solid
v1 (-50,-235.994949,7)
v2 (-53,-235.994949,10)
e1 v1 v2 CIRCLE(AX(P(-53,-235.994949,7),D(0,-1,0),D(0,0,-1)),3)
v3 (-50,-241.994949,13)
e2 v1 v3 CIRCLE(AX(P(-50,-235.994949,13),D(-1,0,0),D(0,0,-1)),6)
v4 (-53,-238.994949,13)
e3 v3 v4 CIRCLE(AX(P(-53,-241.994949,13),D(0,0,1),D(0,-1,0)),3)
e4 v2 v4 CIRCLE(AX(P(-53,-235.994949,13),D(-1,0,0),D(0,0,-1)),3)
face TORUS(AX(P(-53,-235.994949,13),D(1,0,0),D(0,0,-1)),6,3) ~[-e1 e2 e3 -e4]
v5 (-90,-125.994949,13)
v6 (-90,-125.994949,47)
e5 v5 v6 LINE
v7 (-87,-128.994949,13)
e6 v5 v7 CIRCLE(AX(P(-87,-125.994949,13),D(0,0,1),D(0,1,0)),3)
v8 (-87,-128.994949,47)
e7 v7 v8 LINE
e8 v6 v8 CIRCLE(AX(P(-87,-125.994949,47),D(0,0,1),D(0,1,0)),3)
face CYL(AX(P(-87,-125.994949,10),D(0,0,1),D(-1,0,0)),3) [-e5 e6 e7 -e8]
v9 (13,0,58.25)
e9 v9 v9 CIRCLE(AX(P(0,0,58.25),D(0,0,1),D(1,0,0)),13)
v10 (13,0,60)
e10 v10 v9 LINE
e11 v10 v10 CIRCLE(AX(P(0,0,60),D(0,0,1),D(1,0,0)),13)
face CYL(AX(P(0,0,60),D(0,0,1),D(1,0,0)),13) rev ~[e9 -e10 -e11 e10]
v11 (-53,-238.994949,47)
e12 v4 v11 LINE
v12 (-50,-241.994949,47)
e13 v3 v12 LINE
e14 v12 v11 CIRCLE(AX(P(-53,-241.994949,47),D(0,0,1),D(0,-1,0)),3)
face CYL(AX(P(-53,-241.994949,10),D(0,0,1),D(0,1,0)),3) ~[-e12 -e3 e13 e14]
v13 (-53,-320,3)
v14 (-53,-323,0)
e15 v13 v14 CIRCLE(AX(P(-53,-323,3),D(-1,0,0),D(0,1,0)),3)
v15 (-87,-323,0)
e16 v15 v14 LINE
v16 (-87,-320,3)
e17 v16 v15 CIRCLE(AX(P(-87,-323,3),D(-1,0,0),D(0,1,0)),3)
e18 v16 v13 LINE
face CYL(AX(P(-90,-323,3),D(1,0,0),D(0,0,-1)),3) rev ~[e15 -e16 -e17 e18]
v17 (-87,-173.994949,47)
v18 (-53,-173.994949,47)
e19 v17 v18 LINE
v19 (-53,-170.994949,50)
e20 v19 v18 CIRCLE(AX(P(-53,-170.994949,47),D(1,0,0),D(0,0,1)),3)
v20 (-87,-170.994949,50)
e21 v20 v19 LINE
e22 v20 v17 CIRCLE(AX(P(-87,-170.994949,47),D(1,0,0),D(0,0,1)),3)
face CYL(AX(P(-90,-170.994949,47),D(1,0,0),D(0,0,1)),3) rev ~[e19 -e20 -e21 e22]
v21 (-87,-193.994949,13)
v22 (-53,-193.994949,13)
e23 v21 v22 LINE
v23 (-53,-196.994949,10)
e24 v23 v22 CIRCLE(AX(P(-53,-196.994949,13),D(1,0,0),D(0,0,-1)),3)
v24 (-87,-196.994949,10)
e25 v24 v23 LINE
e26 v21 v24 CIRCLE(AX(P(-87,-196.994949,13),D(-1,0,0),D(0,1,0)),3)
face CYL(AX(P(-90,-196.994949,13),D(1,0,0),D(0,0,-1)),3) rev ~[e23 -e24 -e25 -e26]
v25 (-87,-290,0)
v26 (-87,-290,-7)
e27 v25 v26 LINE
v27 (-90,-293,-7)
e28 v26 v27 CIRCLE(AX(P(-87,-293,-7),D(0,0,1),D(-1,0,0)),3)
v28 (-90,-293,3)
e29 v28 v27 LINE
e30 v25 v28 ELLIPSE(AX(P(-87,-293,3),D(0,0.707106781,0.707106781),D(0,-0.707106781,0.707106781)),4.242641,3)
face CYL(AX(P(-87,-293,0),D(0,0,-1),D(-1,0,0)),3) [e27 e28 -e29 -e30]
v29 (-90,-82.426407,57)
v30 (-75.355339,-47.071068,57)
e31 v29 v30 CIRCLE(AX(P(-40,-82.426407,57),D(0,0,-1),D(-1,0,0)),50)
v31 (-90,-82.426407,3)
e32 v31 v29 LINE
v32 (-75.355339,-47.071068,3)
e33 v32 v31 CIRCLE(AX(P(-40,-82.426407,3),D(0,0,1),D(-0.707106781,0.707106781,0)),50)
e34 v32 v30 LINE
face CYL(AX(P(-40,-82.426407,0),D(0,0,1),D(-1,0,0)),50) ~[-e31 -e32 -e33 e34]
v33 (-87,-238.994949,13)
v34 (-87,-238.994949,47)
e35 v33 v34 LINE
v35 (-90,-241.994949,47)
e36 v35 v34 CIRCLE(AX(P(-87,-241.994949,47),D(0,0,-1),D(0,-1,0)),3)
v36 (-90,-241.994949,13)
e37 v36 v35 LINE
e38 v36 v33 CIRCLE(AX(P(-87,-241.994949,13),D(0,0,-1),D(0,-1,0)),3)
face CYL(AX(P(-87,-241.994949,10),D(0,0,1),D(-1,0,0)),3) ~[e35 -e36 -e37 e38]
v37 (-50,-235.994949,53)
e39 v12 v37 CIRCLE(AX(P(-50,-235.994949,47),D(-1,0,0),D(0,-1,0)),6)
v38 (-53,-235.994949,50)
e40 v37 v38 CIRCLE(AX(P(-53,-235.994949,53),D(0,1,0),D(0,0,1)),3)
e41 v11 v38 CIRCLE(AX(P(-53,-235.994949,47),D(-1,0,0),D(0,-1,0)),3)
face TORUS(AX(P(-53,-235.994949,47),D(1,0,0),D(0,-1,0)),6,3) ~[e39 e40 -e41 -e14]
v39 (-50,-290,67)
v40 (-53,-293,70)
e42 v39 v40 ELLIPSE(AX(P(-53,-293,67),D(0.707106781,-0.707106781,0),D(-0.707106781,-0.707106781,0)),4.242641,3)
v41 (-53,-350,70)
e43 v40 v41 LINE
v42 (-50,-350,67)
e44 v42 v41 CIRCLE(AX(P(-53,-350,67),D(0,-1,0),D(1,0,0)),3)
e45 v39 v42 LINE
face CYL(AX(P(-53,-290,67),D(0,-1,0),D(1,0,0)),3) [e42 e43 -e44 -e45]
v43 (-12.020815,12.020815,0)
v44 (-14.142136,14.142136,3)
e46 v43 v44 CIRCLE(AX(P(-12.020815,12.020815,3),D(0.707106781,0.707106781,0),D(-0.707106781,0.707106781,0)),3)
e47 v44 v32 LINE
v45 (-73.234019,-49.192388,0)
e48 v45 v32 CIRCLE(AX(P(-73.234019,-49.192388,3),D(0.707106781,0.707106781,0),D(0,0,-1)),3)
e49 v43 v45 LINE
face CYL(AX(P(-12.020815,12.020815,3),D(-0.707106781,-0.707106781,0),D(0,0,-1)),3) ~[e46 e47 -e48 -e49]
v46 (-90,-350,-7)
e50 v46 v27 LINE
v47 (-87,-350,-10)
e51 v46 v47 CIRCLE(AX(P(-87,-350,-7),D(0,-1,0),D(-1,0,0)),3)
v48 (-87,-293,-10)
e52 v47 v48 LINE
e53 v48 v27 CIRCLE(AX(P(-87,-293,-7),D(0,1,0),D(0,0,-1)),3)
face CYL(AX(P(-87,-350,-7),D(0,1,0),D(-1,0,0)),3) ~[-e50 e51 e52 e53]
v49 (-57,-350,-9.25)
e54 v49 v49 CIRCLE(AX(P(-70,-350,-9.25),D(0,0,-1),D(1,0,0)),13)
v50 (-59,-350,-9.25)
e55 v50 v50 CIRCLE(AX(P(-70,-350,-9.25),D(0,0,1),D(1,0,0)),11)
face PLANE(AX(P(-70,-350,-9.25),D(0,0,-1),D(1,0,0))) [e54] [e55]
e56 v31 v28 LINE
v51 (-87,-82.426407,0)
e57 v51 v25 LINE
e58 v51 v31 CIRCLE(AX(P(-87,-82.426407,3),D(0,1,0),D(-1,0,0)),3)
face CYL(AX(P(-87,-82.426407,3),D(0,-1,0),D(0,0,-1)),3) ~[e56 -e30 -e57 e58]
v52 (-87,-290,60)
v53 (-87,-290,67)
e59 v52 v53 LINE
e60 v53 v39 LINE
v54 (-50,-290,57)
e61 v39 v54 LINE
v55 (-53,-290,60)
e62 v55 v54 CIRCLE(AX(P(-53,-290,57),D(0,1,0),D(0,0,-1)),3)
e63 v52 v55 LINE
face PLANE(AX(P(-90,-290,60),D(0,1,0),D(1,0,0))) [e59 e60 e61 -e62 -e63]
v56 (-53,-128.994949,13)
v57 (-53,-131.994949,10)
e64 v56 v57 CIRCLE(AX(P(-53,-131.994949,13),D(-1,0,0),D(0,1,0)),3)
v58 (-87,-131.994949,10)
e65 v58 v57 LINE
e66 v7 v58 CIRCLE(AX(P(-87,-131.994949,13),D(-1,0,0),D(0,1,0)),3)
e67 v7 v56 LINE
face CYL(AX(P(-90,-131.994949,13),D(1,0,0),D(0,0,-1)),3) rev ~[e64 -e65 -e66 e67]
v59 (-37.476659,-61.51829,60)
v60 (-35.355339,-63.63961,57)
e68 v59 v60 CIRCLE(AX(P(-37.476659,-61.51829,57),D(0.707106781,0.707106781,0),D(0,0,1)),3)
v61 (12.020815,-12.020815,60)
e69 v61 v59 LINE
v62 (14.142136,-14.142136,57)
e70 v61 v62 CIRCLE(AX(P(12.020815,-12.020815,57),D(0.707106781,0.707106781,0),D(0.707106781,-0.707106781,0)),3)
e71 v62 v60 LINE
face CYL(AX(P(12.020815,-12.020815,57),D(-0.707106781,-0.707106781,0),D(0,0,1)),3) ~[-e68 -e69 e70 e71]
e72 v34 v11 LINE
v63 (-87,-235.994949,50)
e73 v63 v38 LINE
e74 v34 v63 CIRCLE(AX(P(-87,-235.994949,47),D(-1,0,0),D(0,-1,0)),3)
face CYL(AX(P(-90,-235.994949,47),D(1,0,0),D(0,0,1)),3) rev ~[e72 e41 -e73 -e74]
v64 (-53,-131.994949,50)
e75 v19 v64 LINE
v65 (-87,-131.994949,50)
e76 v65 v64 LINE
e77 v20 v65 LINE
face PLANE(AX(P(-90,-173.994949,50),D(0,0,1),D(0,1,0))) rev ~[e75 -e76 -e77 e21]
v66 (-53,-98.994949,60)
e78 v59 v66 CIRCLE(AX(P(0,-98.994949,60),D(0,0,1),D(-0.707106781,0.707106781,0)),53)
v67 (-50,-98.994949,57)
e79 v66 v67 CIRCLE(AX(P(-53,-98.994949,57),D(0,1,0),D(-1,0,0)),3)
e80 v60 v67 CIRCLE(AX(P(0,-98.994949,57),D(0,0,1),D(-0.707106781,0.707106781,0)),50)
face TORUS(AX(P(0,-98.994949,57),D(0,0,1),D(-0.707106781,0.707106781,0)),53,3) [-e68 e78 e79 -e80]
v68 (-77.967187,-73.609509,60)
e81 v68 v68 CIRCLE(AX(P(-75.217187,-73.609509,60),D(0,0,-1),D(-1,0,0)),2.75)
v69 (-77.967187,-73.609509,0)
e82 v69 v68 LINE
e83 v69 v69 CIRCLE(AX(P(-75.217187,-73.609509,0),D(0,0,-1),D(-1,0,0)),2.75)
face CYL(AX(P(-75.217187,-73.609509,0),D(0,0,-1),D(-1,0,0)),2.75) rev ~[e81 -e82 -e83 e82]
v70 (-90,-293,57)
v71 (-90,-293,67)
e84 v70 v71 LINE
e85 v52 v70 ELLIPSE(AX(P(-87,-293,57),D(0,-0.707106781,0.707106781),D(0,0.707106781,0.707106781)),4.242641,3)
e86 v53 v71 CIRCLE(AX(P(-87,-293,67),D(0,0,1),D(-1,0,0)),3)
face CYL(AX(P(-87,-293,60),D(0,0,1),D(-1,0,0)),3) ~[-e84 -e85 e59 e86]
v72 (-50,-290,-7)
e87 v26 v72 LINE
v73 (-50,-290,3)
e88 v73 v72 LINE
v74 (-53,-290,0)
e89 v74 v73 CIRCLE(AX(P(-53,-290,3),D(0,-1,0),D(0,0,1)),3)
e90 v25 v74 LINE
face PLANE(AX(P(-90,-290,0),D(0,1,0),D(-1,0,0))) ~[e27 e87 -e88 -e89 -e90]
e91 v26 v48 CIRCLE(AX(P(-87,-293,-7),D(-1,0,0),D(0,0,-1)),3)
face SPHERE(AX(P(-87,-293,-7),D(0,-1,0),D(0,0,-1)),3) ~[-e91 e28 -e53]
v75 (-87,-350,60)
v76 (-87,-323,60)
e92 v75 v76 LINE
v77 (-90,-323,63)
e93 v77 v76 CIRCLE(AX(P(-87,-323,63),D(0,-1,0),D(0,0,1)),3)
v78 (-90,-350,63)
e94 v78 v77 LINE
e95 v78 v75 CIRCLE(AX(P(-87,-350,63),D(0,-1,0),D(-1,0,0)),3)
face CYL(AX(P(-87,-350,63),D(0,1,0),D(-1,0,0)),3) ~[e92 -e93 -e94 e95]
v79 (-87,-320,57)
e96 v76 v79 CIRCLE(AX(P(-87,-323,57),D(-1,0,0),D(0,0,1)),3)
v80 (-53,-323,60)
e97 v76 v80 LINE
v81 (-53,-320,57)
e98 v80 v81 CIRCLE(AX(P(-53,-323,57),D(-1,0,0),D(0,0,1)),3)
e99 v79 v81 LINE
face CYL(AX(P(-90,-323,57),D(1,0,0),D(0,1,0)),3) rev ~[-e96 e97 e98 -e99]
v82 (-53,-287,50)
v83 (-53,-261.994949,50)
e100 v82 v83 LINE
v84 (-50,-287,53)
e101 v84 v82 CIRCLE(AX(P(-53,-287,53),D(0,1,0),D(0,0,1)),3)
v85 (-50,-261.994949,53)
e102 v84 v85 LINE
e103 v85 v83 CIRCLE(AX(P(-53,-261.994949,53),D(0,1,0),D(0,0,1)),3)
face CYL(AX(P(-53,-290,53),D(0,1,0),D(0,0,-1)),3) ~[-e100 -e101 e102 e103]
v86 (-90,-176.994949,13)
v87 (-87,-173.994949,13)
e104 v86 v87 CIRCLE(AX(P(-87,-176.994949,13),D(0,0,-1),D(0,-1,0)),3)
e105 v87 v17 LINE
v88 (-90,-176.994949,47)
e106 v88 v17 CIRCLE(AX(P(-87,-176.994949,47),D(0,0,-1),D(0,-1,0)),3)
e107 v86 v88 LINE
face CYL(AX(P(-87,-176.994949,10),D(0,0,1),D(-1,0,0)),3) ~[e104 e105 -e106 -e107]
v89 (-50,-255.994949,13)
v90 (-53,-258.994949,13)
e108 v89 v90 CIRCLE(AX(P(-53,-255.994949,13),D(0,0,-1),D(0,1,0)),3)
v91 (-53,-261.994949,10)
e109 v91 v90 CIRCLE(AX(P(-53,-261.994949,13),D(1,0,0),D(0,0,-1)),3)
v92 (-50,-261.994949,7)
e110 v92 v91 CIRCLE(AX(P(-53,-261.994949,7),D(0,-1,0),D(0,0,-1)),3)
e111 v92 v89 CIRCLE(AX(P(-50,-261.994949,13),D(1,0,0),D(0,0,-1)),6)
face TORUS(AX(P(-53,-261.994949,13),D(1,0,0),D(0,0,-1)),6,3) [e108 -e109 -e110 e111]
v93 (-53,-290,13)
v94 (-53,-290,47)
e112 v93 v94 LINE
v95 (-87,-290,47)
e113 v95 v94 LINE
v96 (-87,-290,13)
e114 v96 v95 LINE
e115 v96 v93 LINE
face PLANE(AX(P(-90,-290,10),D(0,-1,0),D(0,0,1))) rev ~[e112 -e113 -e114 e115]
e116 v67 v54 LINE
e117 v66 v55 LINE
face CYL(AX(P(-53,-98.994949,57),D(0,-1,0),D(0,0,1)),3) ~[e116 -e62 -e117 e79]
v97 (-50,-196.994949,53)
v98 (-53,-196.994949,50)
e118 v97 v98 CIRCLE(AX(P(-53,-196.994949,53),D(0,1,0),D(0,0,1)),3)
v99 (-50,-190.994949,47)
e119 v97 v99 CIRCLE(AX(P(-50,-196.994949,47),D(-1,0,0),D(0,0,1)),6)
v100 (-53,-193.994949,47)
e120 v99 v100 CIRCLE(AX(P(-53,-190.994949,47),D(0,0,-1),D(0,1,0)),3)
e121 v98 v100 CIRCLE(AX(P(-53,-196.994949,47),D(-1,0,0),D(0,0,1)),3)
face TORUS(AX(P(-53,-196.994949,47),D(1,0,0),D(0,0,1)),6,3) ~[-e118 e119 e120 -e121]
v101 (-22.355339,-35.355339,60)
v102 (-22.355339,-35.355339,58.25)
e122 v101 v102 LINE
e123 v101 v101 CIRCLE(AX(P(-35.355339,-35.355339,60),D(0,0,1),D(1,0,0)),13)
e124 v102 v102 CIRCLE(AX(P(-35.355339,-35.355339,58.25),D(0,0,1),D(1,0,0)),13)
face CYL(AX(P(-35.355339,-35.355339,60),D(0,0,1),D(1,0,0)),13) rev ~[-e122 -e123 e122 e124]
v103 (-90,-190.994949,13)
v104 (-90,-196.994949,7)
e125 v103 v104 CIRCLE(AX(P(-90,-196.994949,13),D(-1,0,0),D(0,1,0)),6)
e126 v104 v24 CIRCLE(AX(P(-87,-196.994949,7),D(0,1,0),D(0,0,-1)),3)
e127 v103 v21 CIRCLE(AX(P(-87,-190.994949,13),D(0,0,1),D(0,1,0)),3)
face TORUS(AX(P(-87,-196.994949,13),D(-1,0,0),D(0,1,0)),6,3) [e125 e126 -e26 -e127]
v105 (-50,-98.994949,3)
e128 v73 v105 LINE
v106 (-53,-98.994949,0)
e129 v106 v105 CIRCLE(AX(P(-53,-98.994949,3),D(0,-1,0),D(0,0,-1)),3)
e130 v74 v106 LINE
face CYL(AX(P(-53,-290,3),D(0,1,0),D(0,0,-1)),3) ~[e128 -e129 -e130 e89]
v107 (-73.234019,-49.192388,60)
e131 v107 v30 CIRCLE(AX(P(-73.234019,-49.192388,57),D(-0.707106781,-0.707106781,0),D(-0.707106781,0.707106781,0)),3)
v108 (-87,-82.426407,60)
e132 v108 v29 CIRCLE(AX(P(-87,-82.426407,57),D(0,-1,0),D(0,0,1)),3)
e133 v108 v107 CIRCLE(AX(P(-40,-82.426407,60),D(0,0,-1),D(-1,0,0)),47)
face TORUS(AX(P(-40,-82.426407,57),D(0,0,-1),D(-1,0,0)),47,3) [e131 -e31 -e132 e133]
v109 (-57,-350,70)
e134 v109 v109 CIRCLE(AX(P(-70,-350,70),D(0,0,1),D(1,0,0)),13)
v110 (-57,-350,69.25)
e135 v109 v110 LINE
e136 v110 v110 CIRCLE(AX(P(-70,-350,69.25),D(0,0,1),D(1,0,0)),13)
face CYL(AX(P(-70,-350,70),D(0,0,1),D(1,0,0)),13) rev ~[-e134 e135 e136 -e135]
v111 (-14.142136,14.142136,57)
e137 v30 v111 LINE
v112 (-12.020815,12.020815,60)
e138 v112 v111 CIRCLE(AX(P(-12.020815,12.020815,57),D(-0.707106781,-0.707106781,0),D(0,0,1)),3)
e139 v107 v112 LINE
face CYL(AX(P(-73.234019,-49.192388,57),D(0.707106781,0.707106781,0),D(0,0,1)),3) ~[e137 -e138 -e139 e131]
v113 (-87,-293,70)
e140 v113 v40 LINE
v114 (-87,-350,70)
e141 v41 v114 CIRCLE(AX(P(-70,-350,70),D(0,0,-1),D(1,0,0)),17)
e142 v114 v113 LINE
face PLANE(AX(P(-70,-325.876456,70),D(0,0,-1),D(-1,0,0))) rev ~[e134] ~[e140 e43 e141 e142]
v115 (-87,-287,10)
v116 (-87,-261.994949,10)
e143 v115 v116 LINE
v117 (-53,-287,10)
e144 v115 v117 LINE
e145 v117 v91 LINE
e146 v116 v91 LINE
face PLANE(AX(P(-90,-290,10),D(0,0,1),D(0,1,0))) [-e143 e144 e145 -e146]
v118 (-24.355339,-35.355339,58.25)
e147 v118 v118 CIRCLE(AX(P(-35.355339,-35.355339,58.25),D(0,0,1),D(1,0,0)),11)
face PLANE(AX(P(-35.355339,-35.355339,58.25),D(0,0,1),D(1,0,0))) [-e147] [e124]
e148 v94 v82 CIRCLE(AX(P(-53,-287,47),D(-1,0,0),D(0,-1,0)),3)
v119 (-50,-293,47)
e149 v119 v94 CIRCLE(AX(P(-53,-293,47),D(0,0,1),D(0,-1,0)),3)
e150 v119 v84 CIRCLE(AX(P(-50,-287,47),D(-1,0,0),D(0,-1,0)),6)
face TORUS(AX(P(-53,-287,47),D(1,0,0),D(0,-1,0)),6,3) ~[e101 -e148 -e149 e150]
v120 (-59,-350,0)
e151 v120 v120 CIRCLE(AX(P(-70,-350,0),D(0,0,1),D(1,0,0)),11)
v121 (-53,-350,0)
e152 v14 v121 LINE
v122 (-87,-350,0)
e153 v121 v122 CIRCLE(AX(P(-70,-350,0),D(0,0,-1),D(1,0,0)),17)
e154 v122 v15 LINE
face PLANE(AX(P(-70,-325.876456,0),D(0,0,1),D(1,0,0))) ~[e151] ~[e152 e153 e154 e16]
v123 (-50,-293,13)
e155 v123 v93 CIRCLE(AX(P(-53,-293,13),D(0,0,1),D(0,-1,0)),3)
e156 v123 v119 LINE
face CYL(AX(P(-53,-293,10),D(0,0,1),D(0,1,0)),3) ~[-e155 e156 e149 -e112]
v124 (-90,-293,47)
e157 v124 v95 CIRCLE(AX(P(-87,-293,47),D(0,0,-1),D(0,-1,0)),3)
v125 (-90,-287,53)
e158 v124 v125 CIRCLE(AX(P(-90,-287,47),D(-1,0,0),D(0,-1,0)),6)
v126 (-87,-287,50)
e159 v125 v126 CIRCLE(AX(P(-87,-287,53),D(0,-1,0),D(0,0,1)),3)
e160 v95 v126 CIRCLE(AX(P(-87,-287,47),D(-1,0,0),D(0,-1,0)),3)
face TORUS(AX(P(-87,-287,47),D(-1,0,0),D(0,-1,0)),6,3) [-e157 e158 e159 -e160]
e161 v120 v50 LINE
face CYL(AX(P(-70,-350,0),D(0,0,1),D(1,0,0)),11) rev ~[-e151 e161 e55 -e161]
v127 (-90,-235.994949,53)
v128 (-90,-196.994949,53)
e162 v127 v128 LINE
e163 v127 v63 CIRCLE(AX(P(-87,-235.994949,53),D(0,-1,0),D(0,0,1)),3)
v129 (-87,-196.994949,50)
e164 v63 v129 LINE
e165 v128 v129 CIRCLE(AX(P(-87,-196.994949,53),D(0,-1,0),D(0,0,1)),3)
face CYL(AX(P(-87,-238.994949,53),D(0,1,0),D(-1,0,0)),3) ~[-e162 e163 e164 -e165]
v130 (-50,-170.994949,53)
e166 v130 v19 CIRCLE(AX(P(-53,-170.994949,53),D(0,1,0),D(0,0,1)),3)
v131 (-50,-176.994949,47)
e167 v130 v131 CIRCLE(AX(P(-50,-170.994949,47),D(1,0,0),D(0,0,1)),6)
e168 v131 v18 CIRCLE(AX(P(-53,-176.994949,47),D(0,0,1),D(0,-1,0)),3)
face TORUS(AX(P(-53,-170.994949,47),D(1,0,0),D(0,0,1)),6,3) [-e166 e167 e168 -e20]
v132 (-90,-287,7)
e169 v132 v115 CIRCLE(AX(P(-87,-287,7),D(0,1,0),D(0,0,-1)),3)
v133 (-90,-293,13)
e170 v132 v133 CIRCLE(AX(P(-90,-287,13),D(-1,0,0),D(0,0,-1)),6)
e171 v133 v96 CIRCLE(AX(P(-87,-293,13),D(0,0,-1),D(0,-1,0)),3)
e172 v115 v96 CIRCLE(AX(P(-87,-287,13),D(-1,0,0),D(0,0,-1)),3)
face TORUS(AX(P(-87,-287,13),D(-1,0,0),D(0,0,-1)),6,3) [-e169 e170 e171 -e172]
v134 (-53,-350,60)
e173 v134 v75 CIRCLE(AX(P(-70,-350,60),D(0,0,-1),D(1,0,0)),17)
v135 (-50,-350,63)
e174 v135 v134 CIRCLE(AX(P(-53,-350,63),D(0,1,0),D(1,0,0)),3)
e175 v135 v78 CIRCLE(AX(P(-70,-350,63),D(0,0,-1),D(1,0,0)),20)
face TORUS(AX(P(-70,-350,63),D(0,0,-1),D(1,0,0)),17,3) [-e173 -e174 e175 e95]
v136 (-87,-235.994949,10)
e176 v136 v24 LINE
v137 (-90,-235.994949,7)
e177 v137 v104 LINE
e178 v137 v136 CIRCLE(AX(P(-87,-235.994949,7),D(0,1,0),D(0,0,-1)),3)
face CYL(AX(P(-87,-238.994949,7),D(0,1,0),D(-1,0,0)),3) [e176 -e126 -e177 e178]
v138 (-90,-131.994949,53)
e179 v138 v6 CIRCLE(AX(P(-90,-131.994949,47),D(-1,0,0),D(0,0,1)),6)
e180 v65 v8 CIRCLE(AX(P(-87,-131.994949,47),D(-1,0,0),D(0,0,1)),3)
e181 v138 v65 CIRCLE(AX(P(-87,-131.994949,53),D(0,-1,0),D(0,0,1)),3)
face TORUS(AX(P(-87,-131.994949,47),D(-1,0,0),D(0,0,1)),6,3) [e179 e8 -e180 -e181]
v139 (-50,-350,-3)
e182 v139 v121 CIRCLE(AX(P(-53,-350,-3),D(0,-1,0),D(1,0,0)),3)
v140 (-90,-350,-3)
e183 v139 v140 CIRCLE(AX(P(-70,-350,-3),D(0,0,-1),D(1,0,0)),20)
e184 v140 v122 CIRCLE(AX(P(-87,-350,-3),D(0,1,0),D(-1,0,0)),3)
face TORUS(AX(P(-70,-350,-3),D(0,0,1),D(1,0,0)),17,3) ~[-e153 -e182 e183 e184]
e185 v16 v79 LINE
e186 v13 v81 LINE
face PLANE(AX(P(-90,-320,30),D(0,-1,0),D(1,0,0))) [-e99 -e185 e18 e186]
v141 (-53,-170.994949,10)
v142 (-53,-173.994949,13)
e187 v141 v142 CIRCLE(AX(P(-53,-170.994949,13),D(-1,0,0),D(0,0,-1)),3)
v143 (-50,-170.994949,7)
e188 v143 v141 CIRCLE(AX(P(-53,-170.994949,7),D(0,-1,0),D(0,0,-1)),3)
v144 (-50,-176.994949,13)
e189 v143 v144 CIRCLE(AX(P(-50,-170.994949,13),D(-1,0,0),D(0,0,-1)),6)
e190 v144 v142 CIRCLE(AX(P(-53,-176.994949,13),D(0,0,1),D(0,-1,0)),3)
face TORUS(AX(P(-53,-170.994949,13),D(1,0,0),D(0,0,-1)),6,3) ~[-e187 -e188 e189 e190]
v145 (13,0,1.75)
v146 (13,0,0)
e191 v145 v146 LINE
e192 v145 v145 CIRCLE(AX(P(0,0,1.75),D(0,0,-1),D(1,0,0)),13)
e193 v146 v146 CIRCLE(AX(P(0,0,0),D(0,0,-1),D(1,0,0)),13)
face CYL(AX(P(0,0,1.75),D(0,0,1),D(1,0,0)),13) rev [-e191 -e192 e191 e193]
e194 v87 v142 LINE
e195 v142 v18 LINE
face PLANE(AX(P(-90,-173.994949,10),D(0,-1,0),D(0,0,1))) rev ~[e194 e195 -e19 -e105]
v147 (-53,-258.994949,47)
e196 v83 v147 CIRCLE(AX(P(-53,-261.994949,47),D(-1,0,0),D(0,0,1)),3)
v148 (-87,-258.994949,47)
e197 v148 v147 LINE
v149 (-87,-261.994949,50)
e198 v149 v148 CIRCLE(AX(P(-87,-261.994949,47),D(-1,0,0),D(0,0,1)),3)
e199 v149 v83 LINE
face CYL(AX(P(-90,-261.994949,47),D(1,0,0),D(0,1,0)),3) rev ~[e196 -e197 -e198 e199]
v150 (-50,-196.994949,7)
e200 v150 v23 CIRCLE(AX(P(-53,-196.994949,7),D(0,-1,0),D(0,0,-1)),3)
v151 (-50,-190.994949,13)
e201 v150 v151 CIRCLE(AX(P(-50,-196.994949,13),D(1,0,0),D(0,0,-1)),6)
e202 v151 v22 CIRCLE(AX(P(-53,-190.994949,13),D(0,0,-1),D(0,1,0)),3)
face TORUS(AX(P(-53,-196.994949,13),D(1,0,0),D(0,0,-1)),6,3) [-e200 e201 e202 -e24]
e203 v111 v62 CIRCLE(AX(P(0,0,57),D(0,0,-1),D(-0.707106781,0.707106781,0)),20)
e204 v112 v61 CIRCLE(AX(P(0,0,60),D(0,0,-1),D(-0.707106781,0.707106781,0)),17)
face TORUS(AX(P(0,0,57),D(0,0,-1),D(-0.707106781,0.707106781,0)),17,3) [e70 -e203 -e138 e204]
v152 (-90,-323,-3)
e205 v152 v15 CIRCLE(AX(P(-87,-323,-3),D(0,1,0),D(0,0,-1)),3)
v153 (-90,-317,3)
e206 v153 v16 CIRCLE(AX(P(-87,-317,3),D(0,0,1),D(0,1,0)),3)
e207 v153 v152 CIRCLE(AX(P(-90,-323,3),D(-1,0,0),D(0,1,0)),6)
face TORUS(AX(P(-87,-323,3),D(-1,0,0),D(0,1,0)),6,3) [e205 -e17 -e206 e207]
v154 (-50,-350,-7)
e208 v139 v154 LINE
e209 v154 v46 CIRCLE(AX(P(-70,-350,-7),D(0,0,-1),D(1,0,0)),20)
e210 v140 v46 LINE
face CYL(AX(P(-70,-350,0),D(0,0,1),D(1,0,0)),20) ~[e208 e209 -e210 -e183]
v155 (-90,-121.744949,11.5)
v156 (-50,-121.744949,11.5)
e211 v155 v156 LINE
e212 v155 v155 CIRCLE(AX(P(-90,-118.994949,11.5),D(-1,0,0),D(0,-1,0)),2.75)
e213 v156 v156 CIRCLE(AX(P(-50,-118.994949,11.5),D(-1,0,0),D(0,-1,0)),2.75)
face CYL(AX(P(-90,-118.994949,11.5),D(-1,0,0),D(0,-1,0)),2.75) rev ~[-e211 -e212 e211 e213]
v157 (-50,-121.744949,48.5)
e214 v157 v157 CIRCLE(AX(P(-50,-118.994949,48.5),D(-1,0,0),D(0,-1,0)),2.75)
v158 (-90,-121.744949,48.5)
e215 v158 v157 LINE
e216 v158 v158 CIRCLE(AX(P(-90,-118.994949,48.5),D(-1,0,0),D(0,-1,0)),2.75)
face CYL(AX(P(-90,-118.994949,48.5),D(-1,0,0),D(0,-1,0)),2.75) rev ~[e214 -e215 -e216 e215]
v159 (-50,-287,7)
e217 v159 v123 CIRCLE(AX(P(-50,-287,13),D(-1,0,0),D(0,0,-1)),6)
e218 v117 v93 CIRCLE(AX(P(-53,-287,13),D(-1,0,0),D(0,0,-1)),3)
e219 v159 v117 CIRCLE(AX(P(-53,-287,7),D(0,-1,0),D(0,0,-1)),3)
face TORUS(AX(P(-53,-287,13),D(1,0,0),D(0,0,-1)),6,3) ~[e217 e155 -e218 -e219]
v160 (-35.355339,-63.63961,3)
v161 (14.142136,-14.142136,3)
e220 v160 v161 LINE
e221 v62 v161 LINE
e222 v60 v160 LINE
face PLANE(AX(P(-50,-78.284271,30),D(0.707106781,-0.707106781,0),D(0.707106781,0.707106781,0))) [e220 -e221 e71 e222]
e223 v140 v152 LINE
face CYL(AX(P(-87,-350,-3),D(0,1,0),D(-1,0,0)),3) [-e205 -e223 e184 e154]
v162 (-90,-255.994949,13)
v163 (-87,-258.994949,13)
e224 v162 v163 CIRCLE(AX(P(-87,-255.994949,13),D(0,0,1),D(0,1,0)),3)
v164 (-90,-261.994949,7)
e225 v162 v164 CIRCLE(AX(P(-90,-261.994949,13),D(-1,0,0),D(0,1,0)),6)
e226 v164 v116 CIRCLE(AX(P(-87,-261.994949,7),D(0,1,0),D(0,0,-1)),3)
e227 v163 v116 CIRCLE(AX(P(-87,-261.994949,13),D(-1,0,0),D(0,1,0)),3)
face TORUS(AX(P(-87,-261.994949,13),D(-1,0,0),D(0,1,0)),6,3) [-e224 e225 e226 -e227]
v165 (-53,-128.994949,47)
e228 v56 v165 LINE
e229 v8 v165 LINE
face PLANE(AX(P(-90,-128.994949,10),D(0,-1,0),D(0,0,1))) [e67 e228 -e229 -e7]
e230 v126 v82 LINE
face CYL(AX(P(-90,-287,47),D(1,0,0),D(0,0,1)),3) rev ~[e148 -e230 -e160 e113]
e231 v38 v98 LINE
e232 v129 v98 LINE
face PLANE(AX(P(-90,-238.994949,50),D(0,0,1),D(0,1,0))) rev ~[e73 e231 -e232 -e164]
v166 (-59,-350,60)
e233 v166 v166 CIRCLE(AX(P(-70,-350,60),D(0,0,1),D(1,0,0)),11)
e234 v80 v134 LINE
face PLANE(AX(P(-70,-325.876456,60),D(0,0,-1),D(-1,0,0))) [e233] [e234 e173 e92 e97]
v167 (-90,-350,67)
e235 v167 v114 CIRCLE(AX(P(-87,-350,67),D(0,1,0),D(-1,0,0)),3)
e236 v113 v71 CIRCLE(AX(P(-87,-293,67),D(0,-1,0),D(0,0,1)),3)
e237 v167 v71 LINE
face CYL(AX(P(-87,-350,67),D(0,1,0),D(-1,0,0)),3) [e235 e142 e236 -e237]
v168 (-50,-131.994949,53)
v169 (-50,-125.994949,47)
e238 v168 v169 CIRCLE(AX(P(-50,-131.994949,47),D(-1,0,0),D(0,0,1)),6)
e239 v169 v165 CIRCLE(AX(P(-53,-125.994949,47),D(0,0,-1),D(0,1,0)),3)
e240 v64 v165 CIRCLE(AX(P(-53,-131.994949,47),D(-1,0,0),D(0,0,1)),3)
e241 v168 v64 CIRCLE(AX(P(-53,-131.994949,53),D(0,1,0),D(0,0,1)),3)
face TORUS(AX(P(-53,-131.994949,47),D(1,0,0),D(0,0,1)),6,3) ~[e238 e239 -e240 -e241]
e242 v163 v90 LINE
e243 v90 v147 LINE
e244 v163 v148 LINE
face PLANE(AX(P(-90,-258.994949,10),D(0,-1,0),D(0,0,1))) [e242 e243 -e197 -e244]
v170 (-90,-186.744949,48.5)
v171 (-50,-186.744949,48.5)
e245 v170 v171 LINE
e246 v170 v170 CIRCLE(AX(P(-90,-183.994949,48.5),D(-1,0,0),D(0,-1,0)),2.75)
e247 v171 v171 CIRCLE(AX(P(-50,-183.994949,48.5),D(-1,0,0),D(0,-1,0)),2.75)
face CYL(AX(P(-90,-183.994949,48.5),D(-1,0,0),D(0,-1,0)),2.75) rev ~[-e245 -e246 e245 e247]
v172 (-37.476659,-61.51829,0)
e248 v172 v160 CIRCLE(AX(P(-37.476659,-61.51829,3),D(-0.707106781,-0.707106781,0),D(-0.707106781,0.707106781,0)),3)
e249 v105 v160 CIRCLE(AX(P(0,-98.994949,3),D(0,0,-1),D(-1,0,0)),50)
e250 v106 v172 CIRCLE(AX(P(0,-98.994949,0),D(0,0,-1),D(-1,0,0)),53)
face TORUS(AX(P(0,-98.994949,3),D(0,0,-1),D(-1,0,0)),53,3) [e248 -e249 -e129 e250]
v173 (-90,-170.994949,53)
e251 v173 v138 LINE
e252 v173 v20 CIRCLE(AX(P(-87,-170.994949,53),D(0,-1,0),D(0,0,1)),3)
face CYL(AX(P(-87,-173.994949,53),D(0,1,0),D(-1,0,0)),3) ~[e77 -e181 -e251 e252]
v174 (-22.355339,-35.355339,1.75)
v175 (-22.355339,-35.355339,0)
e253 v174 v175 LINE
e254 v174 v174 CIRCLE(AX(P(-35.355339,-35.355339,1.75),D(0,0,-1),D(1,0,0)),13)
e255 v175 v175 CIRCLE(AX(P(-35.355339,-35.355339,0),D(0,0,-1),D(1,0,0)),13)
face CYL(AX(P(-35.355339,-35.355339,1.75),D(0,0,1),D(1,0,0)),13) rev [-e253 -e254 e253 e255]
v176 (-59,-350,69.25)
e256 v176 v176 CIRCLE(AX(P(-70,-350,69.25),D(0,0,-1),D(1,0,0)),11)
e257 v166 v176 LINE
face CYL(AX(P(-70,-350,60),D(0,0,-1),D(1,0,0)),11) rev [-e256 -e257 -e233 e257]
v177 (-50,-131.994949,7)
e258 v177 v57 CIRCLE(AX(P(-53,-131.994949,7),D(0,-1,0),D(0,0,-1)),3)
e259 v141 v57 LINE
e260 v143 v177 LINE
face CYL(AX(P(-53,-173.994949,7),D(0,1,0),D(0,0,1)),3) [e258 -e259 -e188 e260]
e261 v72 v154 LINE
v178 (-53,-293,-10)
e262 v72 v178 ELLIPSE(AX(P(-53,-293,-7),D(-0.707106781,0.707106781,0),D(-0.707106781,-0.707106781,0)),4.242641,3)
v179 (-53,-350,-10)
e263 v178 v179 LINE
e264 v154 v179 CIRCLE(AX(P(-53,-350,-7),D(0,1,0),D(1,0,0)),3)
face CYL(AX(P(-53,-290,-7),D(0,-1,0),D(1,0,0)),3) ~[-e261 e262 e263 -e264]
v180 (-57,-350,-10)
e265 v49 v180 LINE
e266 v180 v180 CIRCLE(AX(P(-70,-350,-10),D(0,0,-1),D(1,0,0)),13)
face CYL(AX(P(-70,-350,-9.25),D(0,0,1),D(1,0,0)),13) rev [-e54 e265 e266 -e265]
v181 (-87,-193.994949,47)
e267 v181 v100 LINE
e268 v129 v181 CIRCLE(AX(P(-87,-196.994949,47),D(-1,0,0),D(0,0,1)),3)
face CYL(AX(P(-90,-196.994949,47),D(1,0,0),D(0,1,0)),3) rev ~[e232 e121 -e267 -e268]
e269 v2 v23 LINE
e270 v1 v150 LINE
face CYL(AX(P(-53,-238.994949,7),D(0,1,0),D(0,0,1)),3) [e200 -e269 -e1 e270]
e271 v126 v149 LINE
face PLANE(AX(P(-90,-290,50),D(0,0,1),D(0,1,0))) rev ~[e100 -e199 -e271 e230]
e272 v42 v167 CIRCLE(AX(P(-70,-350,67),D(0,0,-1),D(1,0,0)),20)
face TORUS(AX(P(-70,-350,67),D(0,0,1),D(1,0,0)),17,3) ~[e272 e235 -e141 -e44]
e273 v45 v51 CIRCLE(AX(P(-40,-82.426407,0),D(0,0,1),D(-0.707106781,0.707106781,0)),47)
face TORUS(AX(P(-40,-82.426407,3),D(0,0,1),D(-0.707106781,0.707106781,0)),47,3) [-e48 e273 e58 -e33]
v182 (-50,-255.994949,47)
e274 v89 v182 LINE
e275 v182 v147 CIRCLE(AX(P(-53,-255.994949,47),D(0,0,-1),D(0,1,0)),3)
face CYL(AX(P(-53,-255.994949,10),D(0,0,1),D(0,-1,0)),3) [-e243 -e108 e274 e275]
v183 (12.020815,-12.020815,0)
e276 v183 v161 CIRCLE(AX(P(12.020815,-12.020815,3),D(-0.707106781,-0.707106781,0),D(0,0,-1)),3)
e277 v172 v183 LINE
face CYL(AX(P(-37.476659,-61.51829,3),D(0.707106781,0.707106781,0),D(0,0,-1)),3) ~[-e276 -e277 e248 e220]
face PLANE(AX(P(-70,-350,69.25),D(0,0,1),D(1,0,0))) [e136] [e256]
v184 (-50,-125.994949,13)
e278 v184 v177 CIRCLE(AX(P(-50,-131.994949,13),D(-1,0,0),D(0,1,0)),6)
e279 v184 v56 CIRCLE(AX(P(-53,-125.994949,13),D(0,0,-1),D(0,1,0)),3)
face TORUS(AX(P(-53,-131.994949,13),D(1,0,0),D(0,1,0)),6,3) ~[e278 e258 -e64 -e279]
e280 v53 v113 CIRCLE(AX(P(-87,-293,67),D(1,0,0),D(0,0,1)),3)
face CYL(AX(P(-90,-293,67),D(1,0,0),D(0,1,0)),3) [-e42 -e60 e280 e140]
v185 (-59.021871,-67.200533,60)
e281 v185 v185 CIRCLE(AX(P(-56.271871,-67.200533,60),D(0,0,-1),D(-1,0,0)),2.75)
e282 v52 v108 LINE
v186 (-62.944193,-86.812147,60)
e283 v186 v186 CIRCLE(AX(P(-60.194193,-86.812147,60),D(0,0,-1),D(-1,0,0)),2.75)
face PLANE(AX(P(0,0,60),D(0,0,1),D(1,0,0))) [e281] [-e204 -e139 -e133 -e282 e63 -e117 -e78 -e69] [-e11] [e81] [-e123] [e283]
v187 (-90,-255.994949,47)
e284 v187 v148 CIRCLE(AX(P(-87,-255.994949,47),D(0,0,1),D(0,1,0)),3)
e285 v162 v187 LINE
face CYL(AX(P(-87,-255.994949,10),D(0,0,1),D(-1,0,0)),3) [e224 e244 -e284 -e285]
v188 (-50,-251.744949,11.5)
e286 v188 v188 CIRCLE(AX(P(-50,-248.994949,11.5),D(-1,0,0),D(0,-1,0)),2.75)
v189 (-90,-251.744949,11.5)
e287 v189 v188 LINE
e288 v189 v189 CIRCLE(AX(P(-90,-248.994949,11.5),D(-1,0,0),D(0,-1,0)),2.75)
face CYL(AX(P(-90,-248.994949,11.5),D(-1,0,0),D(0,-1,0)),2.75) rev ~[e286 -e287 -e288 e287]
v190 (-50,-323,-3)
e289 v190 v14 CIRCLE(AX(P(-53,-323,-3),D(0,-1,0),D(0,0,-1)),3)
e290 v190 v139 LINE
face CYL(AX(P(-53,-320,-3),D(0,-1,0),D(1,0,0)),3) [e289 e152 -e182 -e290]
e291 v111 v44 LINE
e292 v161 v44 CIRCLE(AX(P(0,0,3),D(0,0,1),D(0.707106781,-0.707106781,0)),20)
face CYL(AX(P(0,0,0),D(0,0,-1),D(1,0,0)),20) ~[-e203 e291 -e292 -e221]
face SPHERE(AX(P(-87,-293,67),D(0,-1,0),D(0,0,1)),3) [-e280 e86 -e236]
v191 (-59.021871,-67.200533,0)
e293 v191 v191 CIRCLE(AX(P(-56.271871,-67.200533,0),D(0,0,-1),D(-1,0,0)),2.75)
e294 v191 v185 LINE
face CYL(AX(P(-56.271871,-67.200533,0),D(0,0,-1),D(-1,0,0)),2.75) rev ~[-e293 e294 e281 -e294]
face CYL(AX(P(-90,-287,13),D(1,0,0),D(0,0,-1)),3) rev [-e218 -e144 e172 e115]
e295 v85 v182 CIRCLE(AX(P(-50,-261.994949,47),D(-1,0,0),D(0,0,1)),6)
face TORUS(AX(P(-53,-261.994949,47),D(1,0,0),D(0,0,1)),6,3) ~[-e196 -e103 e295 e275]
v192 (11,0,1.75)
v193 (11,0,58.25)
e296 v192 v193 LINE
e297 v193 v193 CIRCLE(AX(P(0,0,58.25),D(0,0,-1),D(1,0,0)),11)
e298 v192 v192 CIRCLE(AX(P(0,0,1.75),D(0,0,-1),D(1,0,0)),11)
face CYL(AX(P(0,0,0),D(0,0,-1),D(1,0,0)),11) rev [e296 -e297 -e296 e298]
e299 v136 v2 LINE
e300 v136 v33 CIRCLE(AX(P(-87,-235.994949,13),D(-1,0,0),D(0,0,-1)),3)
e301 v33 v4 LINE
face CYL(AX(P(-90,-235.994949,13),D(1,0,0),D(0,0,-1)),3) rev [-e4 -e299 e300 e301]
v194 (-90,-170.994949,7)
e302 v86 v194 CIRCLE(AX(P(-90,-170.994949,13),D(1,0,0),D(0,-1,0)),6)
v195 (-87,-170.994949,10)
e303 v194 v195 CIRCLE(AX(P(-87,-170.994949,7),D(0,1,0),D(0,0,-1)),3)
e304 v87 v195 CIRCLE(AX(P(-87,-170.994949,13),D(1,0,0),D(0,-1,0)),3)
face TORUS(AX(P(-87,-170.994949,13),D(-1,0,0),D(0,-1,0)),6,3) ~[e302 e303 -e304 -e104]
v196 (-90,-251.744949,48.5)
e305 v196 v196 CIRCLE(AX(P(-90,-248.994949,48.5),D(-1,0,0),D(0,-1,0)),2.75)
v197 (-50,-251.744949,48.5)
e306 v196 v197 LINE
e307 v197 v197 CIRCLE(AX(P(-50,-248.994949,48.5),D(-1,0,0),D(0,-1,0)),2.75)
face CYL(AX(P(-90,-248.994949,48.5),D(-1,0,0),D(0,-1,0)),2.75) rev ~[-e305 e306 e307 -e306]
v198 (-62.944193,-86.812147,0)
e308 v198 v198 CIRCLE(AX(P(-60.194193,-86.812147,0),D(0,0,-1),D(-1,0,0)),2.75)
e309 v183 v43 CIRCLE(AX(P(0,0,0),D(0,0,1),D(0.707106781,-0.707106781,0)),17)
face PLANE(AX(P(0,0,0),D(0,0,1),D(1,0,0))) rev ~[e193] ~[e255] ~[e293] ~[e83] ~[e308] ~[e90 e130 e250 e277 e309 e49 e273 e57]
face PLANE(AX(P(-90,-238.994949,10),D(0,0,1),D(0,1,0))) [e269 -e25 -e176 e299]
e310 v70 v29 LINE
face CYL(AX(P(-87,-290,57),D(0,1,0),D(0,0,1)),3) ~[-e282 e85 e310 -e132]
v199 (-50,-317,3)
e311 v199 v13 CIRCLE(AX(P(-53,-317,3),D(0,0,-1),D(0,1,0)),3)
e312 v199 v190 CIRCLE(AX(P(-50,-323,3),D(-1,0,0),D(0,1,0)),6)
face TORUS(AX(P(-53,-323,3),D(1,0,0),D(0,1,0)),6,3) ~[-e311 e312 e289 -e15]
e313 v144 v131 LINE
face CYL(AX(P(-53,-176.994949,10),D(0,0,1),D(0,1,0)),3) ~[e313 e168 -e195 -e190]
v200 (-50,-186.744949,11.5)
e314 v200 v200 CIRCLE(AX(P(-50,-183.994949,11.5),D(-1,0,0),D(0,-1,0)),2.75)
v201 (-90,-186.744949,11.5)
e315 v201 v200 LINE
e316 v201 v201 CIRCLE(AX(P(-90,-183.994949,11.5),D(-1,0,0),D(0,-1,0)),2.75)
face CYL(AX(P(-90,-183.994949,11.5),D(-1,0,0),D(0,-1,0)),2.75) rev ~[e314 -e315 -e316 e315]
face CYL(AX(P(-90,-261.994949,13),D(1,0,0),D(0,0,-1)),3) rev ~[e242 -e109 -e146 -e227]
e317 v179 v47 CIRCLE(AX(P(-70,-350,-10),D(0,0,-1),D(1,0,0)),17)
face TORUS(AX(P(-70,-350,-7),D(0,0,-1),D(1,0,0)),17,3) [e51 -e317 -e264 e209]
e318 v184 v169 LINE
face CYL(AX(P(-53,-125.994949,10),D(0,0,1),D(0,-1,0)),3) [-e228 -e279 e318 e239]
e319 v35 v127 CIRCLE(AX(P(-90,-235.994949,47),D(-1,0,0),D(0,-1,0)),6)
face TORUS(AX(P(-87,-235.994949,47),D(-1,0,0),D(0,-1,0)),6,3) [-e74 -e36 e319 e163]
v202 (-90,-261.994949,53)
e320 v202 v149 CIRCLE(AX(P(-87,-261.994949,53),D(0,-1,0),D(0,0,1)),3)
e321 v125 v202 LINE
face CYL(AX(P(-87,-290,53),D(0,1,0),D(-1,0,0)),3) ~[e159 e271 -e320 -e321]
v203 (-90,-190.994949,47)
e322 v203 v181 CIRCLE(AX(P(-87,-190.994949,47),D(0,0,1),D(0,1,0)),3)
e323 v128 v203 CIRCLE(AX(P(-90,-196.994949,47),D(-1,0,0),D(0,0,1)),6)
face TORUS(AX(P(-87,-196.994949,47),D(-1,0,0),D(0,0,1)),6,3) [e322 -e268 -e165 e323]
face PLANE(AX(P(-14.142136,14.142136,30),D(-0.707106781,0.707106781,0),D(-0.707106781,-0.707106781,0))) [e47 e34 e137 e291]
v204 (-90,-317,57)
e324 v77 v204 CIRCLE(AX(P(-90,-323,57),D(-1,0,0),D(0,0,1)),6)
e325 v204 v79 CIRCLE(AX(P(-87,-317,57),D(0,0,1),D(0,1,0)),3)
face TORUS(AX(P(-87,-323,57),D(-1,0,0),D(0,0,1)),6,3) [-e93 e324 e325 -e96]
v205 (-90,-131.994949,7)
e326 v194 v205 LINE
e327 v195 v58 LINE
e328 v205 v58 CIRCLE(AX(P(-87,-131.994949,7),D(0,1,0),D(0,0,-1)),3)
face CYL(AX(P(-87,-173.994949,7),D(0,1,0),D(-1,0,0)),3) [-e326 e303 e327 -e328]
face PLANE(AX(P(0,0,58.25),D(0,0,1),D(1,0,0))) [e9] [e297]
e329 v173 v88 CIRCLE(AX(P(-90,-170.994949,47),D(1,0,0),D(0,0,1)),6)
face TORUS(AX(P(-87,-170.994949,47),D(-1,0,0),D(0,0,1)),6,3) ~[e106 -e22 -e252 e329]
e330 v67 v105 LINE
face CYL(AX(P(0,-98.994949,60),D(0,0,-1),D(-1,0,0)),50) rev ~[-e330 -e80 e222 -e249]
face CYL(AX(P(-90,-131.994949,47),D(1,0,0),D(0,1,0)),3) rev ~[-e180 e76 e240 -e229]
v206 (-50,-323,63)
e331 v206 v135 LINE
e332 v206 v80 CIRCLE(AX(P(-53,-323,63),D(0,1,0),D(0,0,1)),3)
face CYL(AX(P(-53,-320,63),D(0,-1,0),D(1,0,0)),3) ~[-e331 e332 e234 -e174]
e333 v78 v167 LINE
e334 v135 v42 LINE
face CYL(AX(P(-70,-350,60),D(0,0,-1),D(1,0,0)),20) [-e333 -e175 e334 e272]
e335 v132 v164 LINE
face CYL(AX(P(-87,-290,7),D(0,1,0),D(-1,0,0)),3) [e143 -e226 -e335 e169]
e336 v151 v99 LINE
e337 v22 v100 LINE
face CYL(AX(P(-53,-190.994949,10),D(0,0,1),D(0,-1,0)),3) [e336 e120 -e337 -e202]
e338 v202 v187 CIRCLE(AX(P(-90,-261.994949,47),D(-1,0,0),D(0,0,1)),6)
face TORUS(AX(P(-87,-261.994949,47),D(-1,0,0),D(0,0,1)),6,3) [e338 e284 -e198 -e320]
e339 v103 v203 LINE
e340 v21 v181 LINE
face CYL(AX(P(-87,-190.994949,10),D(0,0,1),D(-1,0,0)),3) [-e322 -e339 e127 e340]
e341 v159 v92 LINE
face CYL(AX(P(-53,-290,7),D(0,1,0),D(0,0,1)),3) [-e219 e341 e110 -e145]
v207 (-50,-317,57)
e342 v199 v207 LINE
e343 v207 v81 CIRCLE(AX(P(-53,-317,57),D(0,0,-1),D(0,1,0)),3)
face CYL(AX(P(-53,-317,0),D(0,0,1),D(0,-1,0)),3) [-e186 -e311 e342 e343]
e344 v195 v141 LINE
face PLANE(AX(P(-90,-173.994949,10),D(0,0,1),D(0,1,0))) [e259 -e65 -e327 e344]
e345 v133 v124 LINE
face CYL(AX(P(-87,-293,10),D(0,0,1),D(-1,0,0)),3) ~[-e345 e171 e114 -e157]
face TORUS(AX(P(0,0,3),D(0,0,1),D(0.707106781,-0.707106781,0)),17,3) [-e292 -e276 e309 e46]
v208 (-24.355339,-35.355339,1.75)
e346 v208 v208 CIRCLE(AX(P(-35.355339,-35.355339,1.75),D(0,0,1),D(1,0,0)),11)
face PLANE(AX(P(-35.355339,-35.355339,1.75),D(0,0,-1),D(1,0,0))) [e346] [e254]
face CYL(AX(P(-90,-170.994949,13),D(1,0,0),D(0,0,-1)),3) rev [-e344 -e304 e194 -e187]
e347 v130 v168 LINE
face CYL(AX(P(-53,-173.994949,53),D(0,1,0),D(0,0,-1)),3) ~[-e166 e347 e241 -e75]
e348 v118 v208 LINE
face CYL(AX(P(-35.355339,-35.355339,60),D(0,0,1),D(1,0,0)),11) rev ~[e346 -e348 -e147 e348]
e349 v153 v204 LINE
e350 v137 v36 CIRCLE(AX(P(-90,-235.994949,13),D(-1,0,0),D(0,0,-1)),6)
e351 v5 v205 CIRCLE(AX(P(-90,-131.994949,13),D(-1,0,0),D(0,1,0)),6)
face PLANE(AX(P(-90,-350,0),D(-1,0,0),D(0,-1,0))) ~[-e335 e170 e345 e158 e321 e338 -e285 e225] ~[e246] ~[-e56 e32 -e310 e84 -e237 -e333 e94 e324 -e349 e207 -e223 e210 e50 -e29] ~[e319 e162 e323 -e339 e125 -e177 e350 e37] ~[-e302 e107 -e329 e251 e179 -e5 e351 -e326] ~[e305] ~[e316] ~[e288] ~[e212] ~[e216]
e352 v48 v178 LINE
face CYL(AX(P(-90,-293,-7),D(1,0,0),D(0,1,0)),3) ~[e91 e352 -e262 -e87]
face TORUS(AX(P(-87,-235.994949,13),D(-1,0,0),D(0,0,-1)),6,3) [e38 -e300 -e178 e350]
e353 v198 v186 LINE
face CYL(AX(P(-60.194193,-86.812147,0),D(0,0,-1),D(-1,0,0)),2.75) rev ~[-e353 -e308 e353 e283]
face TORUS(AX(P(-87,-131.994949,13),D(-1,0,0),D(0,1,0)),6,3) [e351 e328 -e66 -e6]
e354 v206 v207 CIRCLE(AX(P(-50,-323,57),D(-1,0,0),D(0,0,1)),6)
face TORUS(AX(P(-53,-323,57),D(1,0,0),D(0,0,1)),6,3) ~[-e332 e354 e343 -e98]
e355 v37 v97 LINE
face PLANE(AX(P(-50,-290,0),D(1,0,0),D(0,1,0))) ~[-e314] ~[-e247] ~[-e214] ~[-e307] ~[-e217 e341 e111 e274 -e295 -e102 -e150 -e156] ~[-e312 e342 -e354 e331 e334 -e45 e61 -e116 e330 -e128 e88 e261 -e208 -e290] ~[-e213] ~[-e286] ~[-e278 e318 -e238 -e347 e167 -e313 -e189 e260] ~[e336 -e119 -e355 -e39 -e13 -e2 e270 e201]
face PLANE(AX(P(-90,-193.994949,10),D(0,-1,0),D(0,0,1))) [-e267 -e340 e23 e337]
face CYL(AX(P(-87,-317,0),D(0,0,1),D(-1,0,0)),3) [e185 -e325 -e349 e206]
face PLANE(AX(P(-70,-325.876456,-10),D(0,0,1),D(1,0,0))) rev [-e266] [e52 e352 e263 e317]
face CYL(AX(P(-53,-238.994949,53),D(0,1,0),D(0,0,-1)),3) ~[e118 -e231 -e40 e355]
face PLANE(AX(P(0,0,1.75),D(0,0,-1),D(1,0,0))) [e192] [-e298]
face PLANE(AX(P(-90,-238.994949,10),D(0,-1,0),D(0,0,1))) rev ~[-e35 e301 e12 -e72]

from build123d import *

# Parameters (mm, degrees)
SKETCH_1_R             = 20
SKETCH_1_R_2           = 11
EXTRUDE_1_DEPTH        = 60
EXTRUDE_2_DEPTH        = 30
SKETCH_4_R             = 11
EXTRUDE_3_DEPTH        = 10
SKETCH_8_R             = 11
CUT_EXTRUDE_1_DEPTH    = 100
FILLET_1_R             = 50
FILLET_2_R             = 3
SKETCH_9_R             = 13
CUT_EXTRUDE_2_DEPTH    = 0.75
CUT_EXTRUDE_START      = -0.75
SKETCH_10_R            = 13
CUT_EXTRUDE_3_DEPTH    = 0.75
SKETCH_11_R            = 2.75
CUT_EXTRUDE_4_DEPTH    = 393.300904947
SKETCH_12_W            = 40
SKETCH_12_H            = 45
SKETCH_12_H_2          = 31.005050634
CUT_EXTRUDE_5534_DEPTH = 393.300904947
FILLET_3_R             = 3
SKETCH_13_R            = 13
CUT_EXTRUDE_6_DEPTH    = 1.75
CUT_EXTRUDE_START_2    = -1.75
SKETCH_14_R            = 13
CUT_EXTRUDE_7_DEPTH    = 1.75
SKETCH_15_R            = 2.75
CUT_EXTRUDE_8_DEPTH    = 388.169213652


with BuildPart() as part:
    # 草图1 → 凸台-拉伸1 (new body)
    with BuildSketch(Plane.XY):
        Circle(SKETCH_1_R)
        Circle(SKETCH_1_R_2, mode=Mode.SUBTRACT)
    extrude(amount=EXTRUDE_1_DEPTH)

    # 草图2 → 凸台-拉伸2 (add, symmetric)
    with BuildSketch(Plane.XY.offset(30)):
        with BuildLine():
            Line((-14.142135624, 14.142135624), (-90, -61.715728753))
            Line((-90, -61.715728753), (-90, -320))
            Line((-90, -320), (-50, -320))
            Line((-50, -320), (-50, -78.284271247))
            Line((-50, -78.284271247), (14.142135624, -14.142135624))
            ThreePointArc((14.142135624, -14.142135624), (-14.142135624, -14.142135624), (-14.142135624, 14.142135624))
        make_face()
    extrude(amount=EXTRUDE_2_DEPTH, both=True)

    # 草图4 → 凸台-拉伸3 (add)
    with BuildSketch(Plane.XY.offset(60)):
        with BuildLine():
            Line((-90, -290), (-50, -290))
            Line((-50, -290), (-50, -350))
            ThreePointArc((-50, -350), (-70, -370), (-90, -350))
            Line((-90, -350), (-90, -290))
        make_face()
        with Locations((-70, -350)):
            Circle(SKETCH_4_R, mode=Mode.SUBTRACT)
    extrude_3 = extrude(amount=EXTRUDE_3_DEPTH)

    # 镜向1: 凸台-拉伸3 across plane
    add(extrude_3.mirror(Plane.XY.offset(30)))

    # 草图8 → 切除-拉伸1 (cut)
    with BuildSketch(Plane.XY.offset(60)):
        with Locations((-35.355339059, -35.355339059)):
            Circle(SKETCH_8_R)
    extrude(amount=-CUT_EXTRUDE_1_DEPTH, mode=Mode.SUBTRACT)

    # 圆角1
    fillet_1_edges = [part.edges().sort_by_distance(p)[0] for p in [
        (-50, -78.284271247, 30),
        (-90, -61.715728753, 30),
    ]]
    fillet(fillet_1_edges, radius=FILLET_1_R)

    # 圆角2
    fillet_2_edges = [part.edges().sort_by_distance(p)[0] for p in [
        (14.142135624, 14.142135624, 60),
        (14.142135624, 14.142135624, 0),
        (-10.606601718, -38.890872965, 60),
        (-44.748737342, -16.464466094, 0),
        (-70, -320, 0),
        (-90, -320, 30),
        (-50, -320, 30),
        (-44.748737342, -16.464466094, 60),
        (-70, -320, 60),
        (-10.606601718, -38.890872965, 0),
        (-90, -320, 70),
        (-70, -370, 70),
        (-50, -320, 70),
        (-70, -290, 70),
        (-90, -335, 60),
        (-90, -290, 65),
        (-70, -370, 60),
        (-50, -335, 60),
        (-90, -320, -10),
        (-70, -290, -10),
        (-90, -290, -5),
        (-50, -320, -10),
        (-70, -370, -10),
        (-90, -335, 0),
        (-70, -370, 0),
        (-50, -335, 0),
        (-90, -186.213203436, 0),
        (-90, -186.213203436, 60),
        (-50, -194.497474683, 0),
        (-86.193976626, -63.292235253, 0),
        (-50, -194.497474683, 60),
        (-86.193976626, -63.292235253, 60),
        (-46.193976626, -79.860777748, 0),
        (-46.193976626, -79.860777748, 60),
    ]]
    fillet(fillet_2_edges, radius=FILLET_2_R)

    # 草图9 → 切除-拉伸2 (cut)
    with BuildSketch(Plane.XY.offset(70)):
        with Locations((-70, -350)):
            Circle(SKETCH_9_R)
    extrude(amount=-CUT_EXTRUDE_2_DEPTH, mode=Mode.SUBTRACT)

    # 草图10 → 切除-拉伸3 (cut)
    with BuildSketch(Plane(origin=(0, 0, -10), x_dir=(-1, 0, 0), z_dir=(0, 0, -1)).offset(CUT_EXTRUDE_START)):
        with Locations(Location((70, -350, 0), (0, 0, 180))):
            Circle(SKETCH_10_R)
    extrude(amount=CUT_EXTRUDE_3_DEPTH, mode=Mode.SUBTRACT)

    # 草图11 → 切除-拉伸4 (cut, through all)
    with BuildSketch(Plane.ZY.offset(90)):
        with Locations(Location((48.5, -183.994949366, 0), (0, 0, 270))):
            Circle(SKETCH_11_R)
        with Locations(Location((48.5, -248.994949366, 0), (0, 0, 270))):
            Circle(SKETCH_11_R)
        with Locations(Location((48.5, -118.994949366, 0), (0, 0, 270))):
            Circle(SKETCH_11_R)
        with Locations(Location((11.5, -248.994949366, 0), (0, 0, 270))):
            Circle(SKETCH_11_R)
        with Locations(Location((11.5, -183.994949366, 0), (0, 0, 270))):
            Circle(SKETCH_11_R)
        with Locations(Location((11.5, -118.994949366, 0), (0, 0, 270))):
            Circle(SKETCH_11_R)
    extrude(amount=-CUT_EXTRUDE_4_DEPTH, mode=Mode.SUBTRACT)

    # 草图12 → Cut-Extrude 5534 (cut, through all)
    with BuildSketch(Plane.ZY.offset(90)):
        with Locations((30, -151.494949366)):
            Rectangle(SKETCH_12_W, SKETCH_12_H)
        with Locations((30, -216.494949366)):
            Rectangle(SKETCH_12_W, SKETCH_12_H)
        with Locations((30, -274.497474683)):
            Rectangle(SKETCH_12_W, SKETCH_12_H_2)
    extrude(amount=-CUT_EXTRUDE_5534_DEPTH, mode=Mode.SUBTRACT)

    # 圆角3
    fillet_3_edges = [part.edges().sort_by_distance(p)[0] for p in [
        (-50, -216.494949366, 10),
        (-50, -238.994949366, 30),
        (-50, -216.494949366, 50),
        (-50, -193.994949366, 30),
        (-50, -274.497474683, 10),
        (-50, -290, 30),
        (-50, -274.497474683, 50),
        (-50, -258.994949366, 30),
        (-50, -151.494949366, 50),
        (-50, -128.994949366, 30),
        (-50, -151.494949366, 10),
        (-50, -173.994949366, 30),
        (-70, -173.994949366, 50),
        (-70, -173.994949366, 10),
        (-70, -128.994949366, 10),
        (-90, -128.994949366, 30),
        (-70, -128.994949366, 50),
        (-90, -151.494949366, 50),
        (-90, -173.994949366, 30),
        (-90, -151.494949366, 10),
        (-70, -258.994949366, 10),
        (-90, -258.994949366, 30),
        (-70, -258.994949366, 50),
        (-90, -274.497474683, 50),
        (-70, -290, 50),
        (-70, -290, 10),
        (-90, -274.497474683, 10),
        (-90, -290, 30),
        (-70, -193.994949366, 10),
        (-90, -193.994949366, 30),
        (-70, -193.994949366, 50),
        (-90, -216.494949366, 50),
        (-70, -238.994949366, 50),
        (-70, -238.994949366, 10),
        (-90, -216.494949366, 10),
        (-90, -238.994949366, 30),
    ]]
    fillet(fillet_3_edges, radius=FILLET_3_R)

    # 草图13 → 切除-拉伸6 (cut)
    with BuildSketch(Plane.XY.offset(60)):
        Circle(SKETCH_13_R)
        with Locations((-35.355339059, -35.355339059)):
            Circle(SKETCH_13_R)
    extrude(amount=-CUT_EXTRUDE_6_DEPTH, mode=Mode.SUBTRACT)

    # 草图14 → 切除-拉伸7 (cut)
    with BuildSketch(Plane(origin=(0, 0, 0), x_dir=(-1, 0, 0), z_dir=(0, 0, -1)).offset(CUT_EXTRUDE_START_2)):
        with Locations(Location((0, 0, 0), (0, 0, 180))):
            Circle(SKETCH_14_R)
        with Locations(Location((35.355339059, -35.355339059, 0), (0, 0, 180))):
            Circle(SKETCH_14_R)
    extrude(amount=CUT_EXTRUDE_7_DEPTH, mode=Mode.SUBTRACT)

    # 草图15 → 切除-拉伸8 (cut, through all)
    with BuildSketch(Plane(origin=(0, 0, 0), x_dir=(-1, 0, 0), z_dir=(0, 0, -1))):
        with Locations((60.194193243, -86.812146645)):
            Circle(SKETCH_15_R)
        with Locations((56.27187054, -67.200533131)):
            Circle(SKETCH_15_R)
        with Locations((75.217187404, -73.609508785)):
            Circle(SKETCH_15_R)
    extrude(amount=-CUT_EXTRUDE_8_DEPTH, mode=Mode.SUBTRACT)


solid = part.part
